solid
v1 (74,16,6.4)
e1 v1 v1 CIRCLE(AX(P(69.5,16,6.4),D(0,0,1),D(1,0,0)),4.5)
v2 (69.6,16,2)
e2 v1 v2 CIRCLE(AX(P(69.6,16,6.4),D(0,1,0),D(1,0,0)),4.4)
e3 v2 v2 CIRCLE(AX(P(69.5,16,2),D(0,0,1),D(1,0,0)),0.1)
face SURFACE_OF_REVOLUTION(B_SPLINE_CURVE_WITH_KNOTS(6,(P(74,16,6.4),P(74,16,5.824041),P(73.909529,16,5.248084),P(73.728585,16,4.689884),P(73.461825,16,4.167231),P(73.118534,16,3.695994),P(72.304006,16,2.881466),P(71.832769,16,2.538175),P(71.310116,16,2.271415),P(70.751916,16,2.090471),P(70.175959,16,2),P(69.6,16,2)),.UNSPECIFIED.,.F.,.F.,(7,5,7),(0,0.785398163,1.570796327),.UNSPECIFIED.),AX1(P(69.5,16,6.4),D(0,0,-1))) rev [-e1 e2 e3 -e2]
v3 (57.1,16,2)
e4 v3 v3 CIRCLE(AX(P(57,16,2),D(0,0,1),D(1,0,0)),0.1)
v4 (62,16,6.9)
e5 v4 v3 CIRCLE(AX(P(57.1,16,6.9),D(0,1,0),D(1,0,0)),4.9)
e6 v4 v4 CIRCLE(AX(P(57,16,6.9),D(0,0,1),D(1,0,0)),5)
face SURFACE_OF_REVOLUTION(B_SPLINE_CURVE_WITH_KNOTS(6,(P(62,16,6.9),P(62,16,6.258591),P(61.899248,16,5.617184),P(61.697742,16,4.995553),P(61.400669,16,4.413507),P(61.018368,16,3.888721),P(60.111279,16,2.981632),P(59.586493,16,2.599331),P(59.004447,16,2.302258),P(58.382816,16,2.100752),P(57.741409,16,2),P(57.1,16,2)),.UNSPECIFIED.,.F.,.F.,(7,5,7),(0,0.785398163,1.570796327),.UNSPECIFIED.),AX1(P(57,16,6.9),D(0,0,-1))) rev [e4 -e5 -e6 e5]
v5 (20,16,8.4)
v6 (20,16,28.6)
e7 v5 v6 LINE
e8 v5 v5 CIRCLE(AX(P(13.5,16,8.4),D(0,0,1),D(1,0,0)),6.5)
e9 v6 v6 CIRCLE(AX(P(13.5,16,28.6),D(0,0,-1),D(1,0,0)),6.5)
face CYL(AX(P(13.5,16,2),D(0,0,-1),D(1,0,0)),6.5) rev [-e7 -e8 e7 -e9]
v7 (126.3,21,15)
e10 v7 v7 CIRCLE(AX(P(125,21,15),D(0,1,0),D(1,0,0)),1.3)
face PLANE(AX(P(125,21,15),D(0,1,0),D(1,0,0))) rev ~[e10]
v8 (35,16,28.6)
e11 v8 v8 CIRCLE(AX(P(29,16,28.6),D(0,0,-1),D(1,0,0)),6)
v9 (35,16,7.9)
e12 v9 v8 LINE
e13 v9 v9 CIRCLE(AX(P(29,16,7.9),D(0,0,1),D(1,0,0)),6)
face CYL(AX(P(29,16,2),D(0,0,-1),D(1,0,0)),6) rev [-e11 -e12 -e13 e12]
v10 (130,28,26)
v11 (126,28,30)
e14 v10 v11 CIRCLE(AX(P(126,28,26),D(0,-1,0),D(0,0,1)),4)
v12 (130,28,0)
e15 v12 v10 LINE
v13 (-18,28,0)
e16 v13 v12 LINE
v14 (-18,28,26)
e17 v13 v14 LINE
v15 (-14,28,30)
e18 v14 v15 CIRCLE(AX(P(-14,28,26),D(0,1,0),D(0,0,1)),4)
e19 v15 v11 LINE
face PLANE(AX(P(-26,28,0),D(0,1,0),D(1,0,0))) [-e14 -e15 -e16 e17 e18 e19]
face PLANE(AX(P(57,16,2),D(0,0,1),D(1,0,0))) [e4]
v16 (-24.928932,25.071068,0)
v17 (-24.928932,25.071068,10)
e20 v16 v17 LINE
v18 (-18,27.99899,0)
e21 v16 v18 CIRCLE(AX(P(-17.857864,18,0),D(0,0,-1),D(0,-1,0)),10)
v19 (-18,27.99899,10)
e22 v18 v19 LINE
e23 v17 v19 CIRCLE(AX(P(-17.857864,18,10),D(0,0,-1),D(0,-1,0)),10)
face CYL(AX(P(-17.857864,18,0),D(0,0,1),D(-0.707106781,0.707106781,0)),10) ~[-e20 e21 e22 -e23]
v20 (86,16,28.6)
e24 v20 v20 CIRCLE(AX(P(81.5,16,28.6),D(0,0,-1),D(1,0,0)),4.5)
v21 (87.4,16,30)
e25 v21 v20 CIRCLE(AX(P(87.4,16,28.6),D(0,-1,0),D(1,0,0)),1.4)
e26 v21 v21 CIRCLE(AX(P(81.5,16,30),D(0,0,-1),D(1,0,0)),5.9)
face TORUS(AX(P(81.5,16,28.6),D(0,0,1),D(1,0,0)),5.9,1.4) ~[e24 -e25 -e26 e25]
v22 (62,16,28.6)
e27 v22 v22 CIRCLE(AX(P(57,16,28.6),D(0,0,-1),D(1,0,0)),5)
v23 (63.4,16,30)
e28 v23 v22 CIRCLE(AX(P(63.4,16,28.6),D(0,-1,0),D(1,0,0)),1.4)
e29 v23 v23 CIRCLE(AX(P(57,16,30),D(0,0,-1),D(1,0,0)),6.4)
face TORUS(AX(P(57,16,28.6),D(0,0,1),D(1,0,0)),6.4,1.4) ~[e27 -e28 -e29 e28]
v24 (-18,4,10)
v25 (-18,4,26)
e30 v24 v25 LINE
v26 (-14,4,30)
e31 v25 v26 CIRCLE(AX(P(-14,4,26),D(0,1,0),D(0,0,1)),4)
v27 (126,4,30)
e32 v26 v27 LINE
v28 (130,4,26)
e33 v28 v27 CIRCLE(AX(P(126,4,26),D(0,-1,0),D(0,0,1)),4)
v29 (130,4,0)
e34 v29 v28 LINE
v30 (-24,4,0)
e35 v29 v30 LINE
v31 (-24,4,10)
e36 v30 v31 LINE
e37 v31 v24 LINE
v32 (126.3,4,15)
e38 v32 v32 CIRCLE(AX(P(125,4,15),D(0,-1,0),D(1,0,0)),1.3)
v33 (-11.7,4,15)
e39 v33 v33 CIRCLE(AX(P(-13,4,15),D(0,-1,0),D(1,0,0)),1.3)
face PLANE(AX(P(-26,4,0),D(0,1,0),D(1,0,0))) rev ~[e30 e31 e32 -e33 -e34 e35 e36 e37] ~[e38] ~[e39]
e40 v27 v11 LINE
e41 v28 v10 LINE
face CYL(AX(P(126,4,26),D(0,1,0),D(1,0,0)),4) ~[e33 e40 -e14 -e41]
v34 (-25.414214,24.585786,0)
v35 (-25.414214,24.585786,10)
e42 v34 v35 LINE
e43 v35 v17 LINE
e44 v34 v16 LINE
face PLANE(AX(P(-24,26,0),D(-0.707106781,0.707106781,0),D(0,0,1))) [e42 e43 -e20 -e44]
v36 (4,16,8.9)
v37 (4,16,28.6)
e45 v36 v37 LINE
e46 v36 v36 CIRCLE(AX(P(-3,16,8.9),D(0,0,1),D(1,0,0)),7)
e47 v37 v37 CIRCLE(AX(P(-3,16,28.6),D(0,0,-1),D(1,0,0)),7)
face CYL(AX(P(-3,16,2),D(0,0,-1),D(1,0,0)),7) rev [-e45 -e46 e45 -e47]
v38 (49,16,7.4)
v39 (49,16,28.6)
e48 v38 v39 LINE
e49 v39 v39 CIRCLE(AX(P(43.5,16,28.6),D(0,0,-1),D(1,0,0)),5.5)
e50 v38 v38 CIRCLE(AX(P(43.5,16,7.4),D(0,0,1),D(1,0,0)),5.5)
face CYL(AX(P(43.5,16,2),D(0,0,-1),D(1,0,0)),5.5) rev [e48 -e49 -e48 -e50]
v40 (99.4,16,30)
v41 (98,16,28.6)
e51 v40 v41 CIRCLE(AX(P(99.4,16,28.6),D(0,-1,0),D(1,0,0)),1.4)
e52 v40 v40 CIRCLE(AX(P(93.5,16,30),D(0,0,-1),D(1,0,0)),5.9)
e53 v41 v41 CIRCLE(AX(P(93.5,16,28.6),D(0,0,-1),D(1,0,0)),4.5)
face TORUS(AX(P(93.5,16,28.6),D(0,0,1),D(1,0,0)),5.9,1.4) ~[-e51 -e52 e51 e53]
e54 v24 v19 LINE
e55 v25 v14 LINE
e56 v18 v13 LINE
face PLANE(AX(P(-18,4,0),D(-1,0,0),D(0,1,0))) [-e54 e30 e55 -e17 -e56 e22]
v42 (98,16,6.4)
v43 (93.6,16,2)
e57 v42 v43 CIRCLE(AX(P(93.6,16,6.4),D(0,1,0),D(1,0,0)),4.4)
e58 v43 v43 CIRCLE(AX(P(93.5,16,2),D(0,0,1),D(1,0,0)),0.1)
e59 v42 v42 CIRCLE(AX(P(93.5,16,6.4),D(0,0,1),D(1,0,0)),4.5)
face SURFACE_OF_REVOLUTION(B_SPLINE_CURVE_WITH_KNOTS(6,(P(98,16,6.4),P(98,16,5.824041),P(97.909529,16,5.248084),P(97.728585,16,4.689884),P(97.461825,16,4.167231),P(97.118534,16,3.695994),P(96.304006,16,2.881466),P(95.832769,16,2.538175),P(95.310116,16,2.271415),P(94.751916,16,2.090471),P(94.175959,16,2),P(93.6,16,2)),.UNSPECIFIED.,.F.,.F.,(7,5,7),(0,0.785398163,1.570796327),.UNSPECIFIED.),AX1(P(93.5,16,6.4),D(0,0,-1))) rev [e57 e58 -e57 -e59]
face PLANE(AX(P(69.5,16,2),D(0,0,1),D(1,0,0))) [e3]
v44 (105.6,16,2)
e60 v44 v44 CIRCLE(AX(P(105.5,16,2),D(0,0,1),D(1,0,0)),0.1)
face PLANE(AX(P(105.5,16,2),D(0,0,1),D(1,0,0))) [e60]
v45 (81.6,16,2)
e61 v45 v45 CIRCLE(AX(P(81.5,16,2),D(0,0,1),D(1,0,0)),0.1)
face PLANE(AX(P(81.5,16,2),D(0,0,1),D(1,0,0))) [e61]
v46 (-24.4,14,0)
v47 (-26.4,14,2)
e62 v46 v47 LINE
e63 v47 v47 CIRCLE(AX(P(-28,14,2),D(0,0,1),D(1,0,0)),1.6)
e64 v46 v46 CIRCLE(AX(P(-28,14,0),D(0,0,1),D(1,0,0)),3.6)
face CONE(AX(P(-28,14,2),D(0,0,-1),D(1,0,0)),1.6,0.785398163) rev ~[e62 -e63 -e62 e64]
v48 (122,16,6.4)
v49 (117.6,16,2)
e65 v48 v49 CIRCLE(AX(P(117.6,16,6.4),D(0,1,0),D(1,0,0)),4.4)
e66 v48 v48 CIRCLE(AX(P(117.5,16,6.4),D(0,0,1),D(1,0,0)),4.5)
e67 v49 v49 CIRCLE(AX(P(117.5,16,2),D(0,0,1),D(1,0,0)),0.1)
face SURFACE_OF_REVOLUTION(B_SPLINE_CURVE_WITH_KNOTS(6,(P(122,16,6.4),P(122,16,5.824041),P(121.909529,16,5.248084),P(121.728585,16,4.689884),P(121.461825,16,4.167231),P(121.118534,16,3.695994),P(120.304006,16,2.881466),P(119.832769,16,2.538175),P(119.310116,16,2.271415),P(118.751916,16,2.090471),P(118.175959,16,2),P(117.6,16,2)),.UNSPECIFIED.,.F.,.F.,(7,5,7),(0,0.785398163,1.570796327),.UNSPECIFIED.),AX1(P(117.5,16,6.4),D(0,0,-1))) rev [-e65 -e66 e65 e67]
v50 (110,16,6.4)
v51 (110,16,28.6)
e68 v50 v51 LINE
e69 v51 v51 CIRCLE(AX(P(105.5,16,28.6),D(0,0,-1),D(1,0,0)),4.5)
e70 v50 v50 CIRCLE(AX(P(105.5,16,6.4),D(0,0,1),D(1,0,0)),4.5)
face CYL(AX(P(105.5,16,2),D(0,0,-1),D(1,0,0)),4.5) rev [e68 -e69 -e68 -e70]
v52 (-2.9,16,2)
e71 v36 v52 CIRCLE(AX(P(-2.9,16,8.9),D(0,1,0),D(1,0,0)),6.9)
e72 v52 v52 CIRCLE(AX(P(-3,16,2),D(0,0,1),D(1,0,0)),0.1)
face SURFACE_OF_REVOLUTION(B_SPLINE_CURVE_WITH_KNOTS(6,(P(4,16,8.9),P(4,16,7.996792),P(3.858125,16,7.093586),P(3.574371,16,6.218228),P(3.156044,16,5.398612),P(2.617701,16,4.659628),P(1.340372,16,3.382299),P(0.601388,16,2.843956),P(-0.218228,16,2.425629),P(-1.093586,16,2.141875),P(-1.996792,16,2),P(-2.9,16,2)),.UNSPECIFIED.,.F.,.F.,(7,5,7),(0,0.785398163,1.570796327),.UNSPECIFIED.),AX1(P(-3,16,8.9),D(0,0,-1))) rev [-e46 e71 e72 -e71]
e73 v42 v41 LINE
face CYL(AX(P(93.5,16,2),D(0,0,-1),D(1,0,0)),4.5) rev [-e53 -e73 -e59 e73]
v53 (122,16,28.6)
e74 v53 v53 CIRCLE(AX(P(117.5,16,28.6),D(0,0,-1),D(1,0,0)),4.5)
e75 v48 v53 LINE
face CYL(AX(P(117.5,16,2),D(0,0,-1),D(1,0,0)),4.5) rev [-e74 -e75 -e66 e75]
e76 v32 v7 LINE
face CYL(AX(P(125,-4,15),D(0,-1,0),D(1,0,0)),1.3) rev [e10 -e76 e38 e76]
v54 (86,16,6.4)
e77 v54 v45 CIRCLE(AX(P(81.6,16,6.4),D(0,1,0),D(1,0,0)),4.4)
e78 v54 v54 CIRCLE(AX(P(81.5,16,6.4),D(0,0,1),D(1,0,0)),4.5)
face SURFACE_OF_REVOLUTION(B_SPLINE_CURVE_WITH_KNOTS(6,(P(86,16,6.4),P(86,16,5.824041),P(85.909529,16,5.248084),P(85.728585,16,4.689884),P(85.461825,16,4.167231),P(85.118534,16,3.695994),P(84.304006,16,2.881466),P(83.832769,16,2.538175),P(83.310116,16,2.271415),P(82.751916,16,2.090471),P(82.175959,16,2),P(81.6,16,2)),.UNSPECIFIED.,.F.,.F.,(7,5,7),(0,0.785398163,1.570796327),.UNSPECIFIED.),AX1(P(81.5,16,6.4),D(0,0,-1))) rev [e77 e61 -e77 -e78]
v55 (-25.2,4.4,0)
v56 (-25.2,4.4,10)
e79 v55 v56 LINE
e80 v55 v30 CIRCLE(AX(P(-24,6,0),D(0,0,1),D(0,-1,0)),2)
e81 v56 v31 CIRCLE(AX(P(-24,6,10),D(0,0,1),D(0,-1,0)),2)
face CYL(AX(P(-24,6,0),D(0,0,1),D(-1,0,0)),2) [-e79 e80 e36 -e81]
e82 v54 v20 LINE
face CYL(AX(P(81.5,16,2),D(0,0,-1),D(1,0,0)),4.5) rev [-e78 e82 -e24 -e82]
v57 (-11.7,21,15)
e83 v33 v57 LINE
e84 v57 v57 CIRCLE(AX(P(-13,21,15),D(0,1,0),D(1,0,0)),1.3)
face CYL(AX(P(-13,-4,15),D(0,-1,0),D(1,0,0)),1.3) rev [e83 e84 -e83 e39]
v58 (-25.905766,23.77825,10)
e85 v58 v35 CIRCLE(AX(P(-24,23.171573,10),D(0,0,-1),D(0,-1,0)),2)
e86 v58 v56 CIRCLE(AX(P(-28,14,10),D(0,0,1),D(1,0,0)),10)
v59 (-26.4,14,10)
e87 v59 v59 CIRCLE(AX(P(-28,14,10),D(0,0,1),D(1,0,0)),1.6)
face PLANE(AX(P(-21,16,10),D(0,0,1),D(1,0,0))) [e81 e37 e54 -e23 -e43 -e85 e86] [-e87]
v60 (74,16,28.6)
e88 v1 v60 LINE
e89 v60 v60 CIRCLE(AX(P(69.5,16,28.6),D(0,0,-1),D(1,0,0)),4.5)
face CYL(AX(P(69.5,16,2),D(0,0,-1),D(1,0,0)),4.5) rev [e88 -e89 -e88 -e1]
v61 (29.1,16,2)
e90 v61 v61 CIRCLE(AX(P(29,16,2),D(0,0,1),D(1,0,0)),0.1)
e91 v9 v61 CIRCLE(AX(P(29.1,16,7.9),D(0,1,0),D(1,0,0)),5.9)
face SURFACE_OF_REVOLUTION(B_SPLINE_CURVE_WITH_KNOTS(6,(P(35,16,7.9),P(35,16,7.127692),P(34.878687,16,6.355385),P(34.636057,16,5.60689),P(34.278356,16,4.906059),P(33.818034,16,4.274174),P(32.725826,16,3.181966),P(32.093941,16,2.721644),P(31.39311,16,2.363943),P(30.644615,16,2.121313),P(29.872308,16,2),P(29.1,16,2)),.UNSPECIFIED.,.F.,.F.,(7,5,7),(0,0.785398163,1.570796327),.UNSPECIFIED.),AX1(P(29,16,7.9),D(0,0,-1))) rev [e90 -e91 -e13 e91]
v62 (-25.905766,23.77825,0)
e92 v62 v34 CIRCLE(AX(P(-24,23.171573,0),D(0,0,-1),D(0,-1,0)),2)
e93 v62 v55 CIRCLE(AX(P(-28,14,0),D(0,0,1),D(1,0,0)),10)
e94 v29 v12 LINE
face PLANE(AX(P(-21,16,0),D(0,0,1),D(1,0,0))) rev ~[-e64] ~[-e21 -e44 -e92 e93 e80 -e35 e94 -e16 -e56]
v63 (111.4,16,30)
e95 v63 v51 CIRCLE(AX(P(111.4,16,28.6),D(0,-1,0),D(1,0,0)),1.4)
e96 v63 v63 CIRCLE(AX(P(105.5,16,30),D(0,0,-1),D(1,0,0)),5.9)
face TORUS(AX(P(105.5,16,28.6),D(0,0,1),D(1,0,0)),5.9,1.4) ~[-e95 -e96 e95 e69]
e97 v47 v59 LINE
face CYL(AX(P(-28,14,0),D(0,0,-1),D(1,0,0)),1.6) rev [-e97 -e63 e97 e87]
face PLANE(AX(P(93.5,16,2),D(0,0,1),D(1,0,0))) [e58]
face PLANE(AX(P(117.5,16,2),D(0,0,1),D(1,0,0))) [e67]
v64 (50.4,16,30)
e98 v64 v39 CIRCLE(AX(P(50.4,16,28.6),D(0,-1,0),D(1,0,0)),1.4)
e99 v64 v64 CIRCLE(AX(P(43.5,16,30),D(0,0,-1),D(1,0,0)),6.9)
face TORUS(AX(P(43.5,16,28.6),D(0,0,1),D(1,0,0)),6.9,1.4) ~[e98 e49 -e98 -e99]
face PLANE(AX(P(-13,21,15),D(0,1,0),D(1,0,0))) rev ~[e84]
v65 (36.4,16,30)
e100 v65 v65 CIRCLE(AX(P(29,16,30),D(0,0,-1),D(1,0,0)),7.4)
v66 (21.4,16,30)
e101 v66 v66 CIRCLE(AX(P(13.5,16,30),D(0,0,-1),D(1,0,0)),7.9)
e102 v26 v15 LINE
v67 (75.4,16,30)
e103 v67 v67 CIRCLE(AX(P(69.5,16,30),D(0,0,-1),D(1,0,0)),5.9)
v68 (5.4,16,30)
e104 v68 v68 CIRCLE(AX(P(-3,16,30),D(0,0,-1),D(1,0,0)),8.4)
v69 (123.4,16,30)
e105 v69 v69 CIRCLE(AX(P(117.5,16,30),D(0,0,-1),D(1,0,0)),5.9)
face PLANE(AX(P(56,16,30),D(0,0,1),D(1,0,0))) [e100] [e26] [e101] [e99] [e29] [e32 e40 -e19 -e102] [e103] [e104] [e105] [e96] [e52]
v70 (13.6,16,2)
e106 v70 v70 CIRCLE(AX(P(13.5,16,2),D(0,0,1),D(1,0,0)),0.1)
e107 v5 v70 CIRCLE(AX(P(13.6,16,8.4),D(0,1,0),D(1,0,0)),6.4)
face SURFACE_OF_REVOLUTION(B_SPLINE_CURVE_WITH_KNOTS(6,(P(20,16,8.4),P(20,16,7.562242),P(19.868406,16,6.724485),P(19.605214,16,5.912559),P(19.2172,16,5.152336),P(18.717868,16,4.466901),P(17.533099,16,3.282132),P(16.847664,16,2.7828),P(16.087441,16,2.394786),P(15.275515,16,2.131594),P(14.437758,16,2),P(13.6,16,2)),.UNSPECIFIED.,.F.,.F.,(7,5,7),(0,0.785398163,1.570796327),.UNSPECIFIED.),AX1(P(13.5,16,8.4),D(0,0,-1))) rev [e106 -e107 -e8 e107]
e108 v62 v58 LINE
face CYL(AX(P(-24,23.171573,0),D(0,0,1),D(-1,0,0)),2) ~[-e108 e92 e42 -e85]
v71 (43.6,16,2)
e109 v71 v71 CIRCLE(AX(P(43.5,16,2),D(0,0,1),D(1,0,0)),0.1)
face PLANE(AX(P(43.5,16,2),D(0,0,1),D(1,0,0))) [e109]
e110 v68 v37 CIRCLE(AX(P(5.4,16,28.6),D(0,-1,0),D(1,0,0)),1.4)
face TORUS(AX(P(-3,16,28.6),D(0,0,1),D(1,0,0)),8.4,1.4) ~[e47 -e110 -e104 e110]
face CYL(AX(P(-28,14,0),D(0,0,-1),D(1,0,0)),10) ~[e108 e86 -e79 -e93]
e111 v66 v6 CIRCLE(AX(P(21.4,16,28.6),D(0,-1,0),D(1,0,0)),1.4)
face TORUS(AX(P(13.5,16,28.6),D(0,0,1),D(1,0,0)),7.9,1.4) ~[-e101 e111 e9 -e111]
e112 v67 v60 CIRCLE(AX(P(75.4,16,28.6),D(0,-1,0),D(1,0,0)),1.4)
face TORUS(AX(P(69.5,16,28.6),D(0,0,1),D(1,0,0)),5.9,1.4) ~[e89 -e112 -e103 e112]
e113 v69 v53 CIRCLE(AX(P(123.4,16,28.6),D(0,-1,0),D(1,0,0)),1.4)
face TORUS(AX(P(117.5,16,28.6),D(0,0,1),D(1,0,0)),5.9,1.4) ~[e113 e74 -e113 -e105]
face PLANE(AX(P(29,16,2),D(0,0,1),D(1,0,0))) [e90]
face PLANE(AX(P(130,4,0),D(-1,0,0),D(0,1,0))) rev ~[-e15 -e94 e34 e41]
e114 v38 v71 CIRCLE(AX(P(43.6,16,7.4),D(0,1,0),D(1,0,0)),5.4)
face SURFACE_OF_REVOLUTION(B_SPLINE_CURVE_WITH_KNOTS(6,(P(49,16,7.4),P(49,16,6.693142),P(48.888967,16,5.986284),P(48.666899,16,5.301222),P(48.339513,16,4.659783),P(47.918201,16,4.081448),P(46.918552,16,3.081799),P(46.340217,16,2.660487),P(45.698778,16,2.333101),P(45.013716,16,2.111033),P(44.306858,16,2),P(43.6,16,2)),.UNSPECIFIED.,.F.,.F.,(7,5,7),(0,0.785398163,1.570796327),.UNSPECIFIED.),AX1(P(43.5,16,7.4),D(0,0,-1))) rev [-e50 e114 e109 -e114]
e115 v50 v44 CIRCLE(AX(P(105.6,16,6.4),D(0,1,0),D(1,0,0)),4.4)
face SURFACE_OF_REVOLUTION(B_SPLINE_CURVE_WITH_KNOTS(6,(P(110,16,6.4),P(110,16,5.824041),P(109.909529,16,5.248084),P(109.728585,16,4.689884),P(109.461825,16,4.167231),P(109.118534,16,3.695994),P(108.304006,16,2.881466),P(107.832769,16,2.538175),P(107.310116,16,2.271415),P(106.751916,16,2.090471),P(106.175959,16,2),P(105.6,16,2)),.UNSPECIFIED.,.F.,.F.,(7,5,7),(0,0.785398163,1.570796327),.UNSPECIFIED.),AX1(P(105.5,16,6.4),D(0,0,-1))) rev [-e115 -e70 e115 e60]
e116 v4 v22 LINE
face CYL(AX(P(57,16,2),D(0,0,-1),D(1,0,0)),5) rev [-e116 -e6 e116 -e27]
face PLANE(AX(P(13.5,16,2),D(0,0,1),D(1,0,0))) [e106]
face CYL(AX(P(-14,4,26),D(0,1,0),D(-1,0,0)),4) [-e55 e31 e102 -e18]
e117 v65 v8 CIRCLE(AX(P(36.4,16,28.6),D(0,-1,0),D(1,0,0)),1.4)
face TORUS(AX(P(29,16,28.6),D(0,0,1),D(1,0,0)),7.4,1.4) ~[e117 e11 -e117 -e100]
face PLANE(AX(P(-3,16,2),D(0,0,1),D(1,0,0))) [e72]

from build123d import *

# Parameters (mm, degrees)
TUBE009_R         = 10
TUBE009_R_2       = 1.6
TUBE009_DEPTH     = 10
BOX026_W          = 10
BOX026_H          = 24
BOX026_DEPTH      = 10
FILLET118_R       = 2
CHAMFER031_SIZE   = 4
FILLET119_R       = 2
FILLET120_R       = 10
CHAMFER032_SIZE   = 2
CYLINDER073_R     = 4.5
CYLINDER073_DEPTH = 30
FILLET117_R       = 4.4
CYLINDER072_R     = 4.5
CYLINDER072_DEPTH = 30
FILLET116_R       = 4.4
CYLINDER071_R     = 4.5
CYLINDER071_DEPTH = 30
FILLET115_R       = 4.4
CYLINDER070_R     = 4.5
CYLINDER070_DEPTH = 30
FILLET114_R       = 4.4
CYLINDER069_R     = 5
CYLINDER069_DEPTH = 30
FILLET113_R       = 4.9
CYLINDER068_R     = 5.5
CYLINDER068_DEPTH = 30
FILLET112_R       = 5.4
CYLINDER067_R     = 6
CYLINDER067_DEPTH = 30
FILLET111_R       = 5.9
CYLINDER066_R     = 6.5
CYLINDER066_DEPTH = 30
FILLET110_R       = 6.4
CYLINDER065_R     = 7
CYLINDER065_DEPTH = 30
FILLET109_R       = 6.9
CYLINDER075_R     = 1.3
CYLINDER075_DEPTH = 25
CYLINDER074_R     = 1.3
CYLINDER074_DEPTH = 25
CYLINDER076_R     = 4.5
CYLINDER076_DEPTH = 30
FILLET122_R       = 4.4
BOX028_W          = 148
BOX028_H          = 24
BOX028_DEPTH      = 30
FILLET123_R       = 4
FILLET124_R       = 1.4


with BuildPart() as tube009:
    # Tube009 → Tube009 (new body)
    with BuildSketch(Plane(origin=(-28, -2, 0), x_dir=(1, 0, 0), z_dir=(0, 0, 1))):
        Circle(TUBE009_R)
        Circle(TUBE009_R_2, mode=Mode.SUBTRACT)
    extrude(amount=TUBE009_DEPTH)


with BuildPart() as chamfer032:
    # Box026 → Box026 (new body)
    with BuildSketch(Plane(origin=(-26, -12, 0), x_dir=(1, 0, 0), z_dir=(0, 0, 1))):
        with Locations((5, 12)):
            Rectangle(BOX026_W, BOX026_H)
    extrude(amount=BOX026_DEPTH)

    # Fillet118
    fillet118_edges = [chamfer032.edges().sort_by_distance(p)[0] for p in [
        (-26, -12, 5),
    ]]
    fillet(fillet118_edges, radius=FILLET118_R)

    # Chamfer031
    chamfer031_edges = [chamfer032.edges().sort_by_distance(p)[0] for p in [
        (-26, 12, 5),
    ]]
    chamfer(chamfer031_edges, length=CHAMFER031_SIZE)

    # Fillet119
    fillet119_edges = [chamfer032.edges().sort_by_distance(p)[0] for p in [
        (-26, 8, 5),
    ]]
    fillet(fillet119_edges, radius=FILLET119_R)

    # Fillet120
    fillet120_edges = [chamfer032.edges().sort_by_distance(p)[0] for p in [
        (-22, 12, 5),
    ]]
    fillet(fillet120_edges, radius=FILLET120_R)

    # Fusion046: union Tube009
    add(tube009.part)

    # Chamfer032
    chamfer032_edges = [chamfer032.edges().sort_by_distance(p)[0] for p in [
        (-29.6, -2, 0),
    ]]
    chamfer(chamfer032_edges, length=CHAMFER032_SIZE)


with BuildPart() as fillet118:
    # Cylinder073 → Cylinder073 (new body)
    with BuildSketch(Plane(origin=(105.5, 0, 2), x_dir=(1, 0, 0), z_dir=(0, 0, 1))):
        Circle(CYLINDER073_R)
    extrude(amount=CYLINDER073_DEPTH)

    # Fillet117
    fillet117_edges = [fillet118.edges().sort_by_distance(p)[0] for p in [
        (101, 0, 2),
    ]]
    fillet(fillet117_edges, radius=FILLET117_R)


with BuildPart() as fillet117:
    # Cylinder072 → Cylinder072 (new body)
    with BuildSketch(Plane(origin=(93.5, 0, 2), x_dir=(1, 0, 0), z_dir=(0, 0, 1))):
        Circle(CYLINDER072_R)
    extrude(amount=CYLINDER072_DEPTH)

    # Fillet116
    fillet116_edges = [fillet117.edges().sort_by_distance(p)[0] for p in [
        (89, 0, 2),
    ]]
    fillet(fillet116_edges, radius=FILLET116_R)


with BuildPart() as fillet116:
    # Cylinder071 → Cylinder071 (new body)
    with BuildSketch(Plane(origin=(81.5, 0, 2), x_dir=(1, 0, 0), z_dir=(0, 0, 1))):
        Circle(CYLINDER071_R)
    extrude(amount=CYLINDER071_DEPTH)

    # Fillet115
    fillet115_edges = [fillet116.edges().sort_by_distance(p)[0] for p in [
        (77, 0, 2),
    ]]
    fillet(fillet115_edges, radius=FILLET115_R)


with BuildPart() as fillet115:
    # Cylinder070 → Cylinder070 (new body)
    with BuildSketch(Plane(origin=(69.5, 0, 2), x_dir=(1, 0, 0), z_dir=(0, 0, 1))):
        Circle(CYLINDER070_R)
    extrude(amount=CYLINDER070_DEPTH)

    # Fillet114
    fillet114_edges = [fillet115.edges().sort_by_distance(p)[0] for p in [
        (65, 0, 2),
    ]]
    fillet(fillet114_edges, radius=FILLET114_R)


with BuildPart() as fillet114:
    # Cylinder069 → Cylinder069 (new body)
    with BuildSketch(Plane(origin=(57, 0, 2), x_dir=(1, 0, 0), z_dir=(0, 0, 1))):
        Circle(CYLINDER069_R)
    extrude(amount=CYLINDER069_DEPTH)

    # Fillet113
    fillet113_edges = [fillet114.edges().sort_by_distance(p)[0] for p in [
        (52, 0, 2),
    ]]
    fillet(fillet113_edges, radius=FILLET113_R)


with BuildPart() as fillet113:
    # Cylinder068 → Cylinder068 (new body)
    with BuildSketch(Plane(origin=(43.5, 0, 2), x_dir=(1, 0, 0), z_dir=(0, 0, 1))):
        Circle(CYLINDER068_R)
    extrude(amount=CYLINDER068_DEPTH)

    # Fillet112
    fillet112_edges = [fillet113.edges().sort_by_distance(p)[0] for p in [
        (38, 0, 2),
    ]]
    fillet(fillet112_edges, radius=FILLET112_R)


with BuildPart() as fillet112:
    # Cylinder067 → Cylinder067 (new body)
    with BuildSketch(Plane(origin=(29, 0, 2), x_dir=(1, 0, 0), z_dir=(0, 0, 1))):
        Circle(CYLINDER067_R)
    extrude(amount=CYLINDER067_DEPTH)

    # Fillet111
    fillet111_edges = [fillet112.edges().sort_by_distance(p)[0] for p in [
        (23, 0, 2),
    ]]
    fillet(fillet111_edges, radius=FILLET111_R)


with BuildPart() as fillet111:
    # Cylinder066 → Cylinder066 (new body)
    with BuildSketch(Plane(origin=(13.5, 0, 2), x_dir=(1, 0, 0), z_dir=(0, 0, 1))):
        Circle(CYLINDER066_R)
    extrude(amount=CYLINDER066_DEPTH)

    # Fillet110
    fillet110_edges = [fillet111.edges().sort_by_distance(p)[0] for p in [
        (7, 0, 2),
    ]]
    fillet(fillet110_edges, radius=FILLET110_R)


with BuildPart() as fillet110:
    # Cylinder065 → Cylinder065 (new body)
    with BuildSketch(Plane(origin=(-3, 0, 2), x_dir=(1, 0, 0), z_dir=(0, 0, 1))):
        Circle(CYLINDER065_R)
    extrude(amount=CYLINDER065_DEPTH)

    # Fillet109
    fillet109_edges = [fillet110.edges().sort_by_distance(p)[0] for p in [
        (-10, 0, 2),
    ]]
    fillet(fillet109_edges, radius=FILLET109_R)


with BuildPart() as screwholle023:
    # Cylinder075 → Cylinder075 (new body)
    with BuildSketch(Plane(origin=(125, -20, 15), x_dir=(1, 0, 0), z_dir=(0, 1, 0))):
        Circle(CYLINDER075_R)
    extrude(amount=CYLINDER075_DEPTH)


with BuildPart() as fusion043:
    # Cylinder074 → Cylinder074 (new body)
    with BuildSketch(Plane(origin=(-13, -20, 15), x_dir=(1, 0, 0), z_dir=(0, 1, 0))):
        Circle(CYLINDER074_R)
    extrude(amount=CYLINDER074_DEPTH)

    # Fusion043: union ScrewHolle023
    add(screwholle023.part)


with BuildPart() as fusion047:
    # Cylinder076 → Cylinder076 (new body)
    with BuildSketch(Plane(origin=(117.5, 0, 2), x_dir=(1, 0, 0), z_dir=(0, 0, 1))):
        Circle(CYLINDER076_R)
    extrude(amount=CYLINDER076_DEPTH)

    # Fillet122
    fillet122_edges = [fusion047.edges().sort_by_distance(p)[0] for p in [
        (113, 0, 2),
    ]]
    fillet(fillet122_edges, radius=FILLET122_R)

    # Fusion047: union Fillet118, Fillet117, Fillet116, Fillet115, Fillet114, Fillet113, Fillet112, Fillet111, Fillet110, Fusion043
    add(fillet118.part)
    add(fillet117.part)
    add(fillet116.part)
    add(fillet115.part)
    add(fillet114.part)
    add(fillet113.part)
    add(fillet112.part)
    add(fillet111.part)
    add(fillet110.part)
    add(fusion043.part)


with BuildPart() as brushholles_s2:
    # Box028 → Box028 (new body)
    with BuildSketch(Plane(origin=(-18, -12, 0), x_dir=(1, 0, 0), z_dir=(0, 0, 1))):
        with Locations((74, 12)):
            Rectangle(BOX028_W, BOX028_H)
    extrude(amount=BOX028_DEPTH)

    # Fillet123
    fillet123_edges = [brushholles_s2.edges().sort_by_distance(p)[0] for p in [
        (-18, 0, 30),
        (130, 0, 30),
    ]]
    fillet(fillet123_edges, radius=FILLET123_R)

    # Cut015: cut Fusion047
    add(fusion047.part, mode=Mode.SUBTRACT)

    # Fillet124
    fillet124_edges = [brushholles_s2.edges().sort_by_distance(p)[0] for p in [
        (-10, 0, 30),
        (7, 0, 30),
        (23, 0, 30),
        (38, 0, 30),
        (52, 0, 30),
        (65, 0, 30),
        (77, 0, 30),
        (89, 0, 30),
        (101, 0, 30),
        (113, 0, 30),
    ]]
    fillet(fillet124_edges, radius=FILLET124_R)

    # Fusion048: union Chamfer032
    add(chamfer032.part)


with BuildPart() as brushholles_s2_1:
    # Fusion048 placement: moved
    add(brushholles_s2.part.moved(Location((0, 16, 0))))


solid = brushholles_s2_1.part
